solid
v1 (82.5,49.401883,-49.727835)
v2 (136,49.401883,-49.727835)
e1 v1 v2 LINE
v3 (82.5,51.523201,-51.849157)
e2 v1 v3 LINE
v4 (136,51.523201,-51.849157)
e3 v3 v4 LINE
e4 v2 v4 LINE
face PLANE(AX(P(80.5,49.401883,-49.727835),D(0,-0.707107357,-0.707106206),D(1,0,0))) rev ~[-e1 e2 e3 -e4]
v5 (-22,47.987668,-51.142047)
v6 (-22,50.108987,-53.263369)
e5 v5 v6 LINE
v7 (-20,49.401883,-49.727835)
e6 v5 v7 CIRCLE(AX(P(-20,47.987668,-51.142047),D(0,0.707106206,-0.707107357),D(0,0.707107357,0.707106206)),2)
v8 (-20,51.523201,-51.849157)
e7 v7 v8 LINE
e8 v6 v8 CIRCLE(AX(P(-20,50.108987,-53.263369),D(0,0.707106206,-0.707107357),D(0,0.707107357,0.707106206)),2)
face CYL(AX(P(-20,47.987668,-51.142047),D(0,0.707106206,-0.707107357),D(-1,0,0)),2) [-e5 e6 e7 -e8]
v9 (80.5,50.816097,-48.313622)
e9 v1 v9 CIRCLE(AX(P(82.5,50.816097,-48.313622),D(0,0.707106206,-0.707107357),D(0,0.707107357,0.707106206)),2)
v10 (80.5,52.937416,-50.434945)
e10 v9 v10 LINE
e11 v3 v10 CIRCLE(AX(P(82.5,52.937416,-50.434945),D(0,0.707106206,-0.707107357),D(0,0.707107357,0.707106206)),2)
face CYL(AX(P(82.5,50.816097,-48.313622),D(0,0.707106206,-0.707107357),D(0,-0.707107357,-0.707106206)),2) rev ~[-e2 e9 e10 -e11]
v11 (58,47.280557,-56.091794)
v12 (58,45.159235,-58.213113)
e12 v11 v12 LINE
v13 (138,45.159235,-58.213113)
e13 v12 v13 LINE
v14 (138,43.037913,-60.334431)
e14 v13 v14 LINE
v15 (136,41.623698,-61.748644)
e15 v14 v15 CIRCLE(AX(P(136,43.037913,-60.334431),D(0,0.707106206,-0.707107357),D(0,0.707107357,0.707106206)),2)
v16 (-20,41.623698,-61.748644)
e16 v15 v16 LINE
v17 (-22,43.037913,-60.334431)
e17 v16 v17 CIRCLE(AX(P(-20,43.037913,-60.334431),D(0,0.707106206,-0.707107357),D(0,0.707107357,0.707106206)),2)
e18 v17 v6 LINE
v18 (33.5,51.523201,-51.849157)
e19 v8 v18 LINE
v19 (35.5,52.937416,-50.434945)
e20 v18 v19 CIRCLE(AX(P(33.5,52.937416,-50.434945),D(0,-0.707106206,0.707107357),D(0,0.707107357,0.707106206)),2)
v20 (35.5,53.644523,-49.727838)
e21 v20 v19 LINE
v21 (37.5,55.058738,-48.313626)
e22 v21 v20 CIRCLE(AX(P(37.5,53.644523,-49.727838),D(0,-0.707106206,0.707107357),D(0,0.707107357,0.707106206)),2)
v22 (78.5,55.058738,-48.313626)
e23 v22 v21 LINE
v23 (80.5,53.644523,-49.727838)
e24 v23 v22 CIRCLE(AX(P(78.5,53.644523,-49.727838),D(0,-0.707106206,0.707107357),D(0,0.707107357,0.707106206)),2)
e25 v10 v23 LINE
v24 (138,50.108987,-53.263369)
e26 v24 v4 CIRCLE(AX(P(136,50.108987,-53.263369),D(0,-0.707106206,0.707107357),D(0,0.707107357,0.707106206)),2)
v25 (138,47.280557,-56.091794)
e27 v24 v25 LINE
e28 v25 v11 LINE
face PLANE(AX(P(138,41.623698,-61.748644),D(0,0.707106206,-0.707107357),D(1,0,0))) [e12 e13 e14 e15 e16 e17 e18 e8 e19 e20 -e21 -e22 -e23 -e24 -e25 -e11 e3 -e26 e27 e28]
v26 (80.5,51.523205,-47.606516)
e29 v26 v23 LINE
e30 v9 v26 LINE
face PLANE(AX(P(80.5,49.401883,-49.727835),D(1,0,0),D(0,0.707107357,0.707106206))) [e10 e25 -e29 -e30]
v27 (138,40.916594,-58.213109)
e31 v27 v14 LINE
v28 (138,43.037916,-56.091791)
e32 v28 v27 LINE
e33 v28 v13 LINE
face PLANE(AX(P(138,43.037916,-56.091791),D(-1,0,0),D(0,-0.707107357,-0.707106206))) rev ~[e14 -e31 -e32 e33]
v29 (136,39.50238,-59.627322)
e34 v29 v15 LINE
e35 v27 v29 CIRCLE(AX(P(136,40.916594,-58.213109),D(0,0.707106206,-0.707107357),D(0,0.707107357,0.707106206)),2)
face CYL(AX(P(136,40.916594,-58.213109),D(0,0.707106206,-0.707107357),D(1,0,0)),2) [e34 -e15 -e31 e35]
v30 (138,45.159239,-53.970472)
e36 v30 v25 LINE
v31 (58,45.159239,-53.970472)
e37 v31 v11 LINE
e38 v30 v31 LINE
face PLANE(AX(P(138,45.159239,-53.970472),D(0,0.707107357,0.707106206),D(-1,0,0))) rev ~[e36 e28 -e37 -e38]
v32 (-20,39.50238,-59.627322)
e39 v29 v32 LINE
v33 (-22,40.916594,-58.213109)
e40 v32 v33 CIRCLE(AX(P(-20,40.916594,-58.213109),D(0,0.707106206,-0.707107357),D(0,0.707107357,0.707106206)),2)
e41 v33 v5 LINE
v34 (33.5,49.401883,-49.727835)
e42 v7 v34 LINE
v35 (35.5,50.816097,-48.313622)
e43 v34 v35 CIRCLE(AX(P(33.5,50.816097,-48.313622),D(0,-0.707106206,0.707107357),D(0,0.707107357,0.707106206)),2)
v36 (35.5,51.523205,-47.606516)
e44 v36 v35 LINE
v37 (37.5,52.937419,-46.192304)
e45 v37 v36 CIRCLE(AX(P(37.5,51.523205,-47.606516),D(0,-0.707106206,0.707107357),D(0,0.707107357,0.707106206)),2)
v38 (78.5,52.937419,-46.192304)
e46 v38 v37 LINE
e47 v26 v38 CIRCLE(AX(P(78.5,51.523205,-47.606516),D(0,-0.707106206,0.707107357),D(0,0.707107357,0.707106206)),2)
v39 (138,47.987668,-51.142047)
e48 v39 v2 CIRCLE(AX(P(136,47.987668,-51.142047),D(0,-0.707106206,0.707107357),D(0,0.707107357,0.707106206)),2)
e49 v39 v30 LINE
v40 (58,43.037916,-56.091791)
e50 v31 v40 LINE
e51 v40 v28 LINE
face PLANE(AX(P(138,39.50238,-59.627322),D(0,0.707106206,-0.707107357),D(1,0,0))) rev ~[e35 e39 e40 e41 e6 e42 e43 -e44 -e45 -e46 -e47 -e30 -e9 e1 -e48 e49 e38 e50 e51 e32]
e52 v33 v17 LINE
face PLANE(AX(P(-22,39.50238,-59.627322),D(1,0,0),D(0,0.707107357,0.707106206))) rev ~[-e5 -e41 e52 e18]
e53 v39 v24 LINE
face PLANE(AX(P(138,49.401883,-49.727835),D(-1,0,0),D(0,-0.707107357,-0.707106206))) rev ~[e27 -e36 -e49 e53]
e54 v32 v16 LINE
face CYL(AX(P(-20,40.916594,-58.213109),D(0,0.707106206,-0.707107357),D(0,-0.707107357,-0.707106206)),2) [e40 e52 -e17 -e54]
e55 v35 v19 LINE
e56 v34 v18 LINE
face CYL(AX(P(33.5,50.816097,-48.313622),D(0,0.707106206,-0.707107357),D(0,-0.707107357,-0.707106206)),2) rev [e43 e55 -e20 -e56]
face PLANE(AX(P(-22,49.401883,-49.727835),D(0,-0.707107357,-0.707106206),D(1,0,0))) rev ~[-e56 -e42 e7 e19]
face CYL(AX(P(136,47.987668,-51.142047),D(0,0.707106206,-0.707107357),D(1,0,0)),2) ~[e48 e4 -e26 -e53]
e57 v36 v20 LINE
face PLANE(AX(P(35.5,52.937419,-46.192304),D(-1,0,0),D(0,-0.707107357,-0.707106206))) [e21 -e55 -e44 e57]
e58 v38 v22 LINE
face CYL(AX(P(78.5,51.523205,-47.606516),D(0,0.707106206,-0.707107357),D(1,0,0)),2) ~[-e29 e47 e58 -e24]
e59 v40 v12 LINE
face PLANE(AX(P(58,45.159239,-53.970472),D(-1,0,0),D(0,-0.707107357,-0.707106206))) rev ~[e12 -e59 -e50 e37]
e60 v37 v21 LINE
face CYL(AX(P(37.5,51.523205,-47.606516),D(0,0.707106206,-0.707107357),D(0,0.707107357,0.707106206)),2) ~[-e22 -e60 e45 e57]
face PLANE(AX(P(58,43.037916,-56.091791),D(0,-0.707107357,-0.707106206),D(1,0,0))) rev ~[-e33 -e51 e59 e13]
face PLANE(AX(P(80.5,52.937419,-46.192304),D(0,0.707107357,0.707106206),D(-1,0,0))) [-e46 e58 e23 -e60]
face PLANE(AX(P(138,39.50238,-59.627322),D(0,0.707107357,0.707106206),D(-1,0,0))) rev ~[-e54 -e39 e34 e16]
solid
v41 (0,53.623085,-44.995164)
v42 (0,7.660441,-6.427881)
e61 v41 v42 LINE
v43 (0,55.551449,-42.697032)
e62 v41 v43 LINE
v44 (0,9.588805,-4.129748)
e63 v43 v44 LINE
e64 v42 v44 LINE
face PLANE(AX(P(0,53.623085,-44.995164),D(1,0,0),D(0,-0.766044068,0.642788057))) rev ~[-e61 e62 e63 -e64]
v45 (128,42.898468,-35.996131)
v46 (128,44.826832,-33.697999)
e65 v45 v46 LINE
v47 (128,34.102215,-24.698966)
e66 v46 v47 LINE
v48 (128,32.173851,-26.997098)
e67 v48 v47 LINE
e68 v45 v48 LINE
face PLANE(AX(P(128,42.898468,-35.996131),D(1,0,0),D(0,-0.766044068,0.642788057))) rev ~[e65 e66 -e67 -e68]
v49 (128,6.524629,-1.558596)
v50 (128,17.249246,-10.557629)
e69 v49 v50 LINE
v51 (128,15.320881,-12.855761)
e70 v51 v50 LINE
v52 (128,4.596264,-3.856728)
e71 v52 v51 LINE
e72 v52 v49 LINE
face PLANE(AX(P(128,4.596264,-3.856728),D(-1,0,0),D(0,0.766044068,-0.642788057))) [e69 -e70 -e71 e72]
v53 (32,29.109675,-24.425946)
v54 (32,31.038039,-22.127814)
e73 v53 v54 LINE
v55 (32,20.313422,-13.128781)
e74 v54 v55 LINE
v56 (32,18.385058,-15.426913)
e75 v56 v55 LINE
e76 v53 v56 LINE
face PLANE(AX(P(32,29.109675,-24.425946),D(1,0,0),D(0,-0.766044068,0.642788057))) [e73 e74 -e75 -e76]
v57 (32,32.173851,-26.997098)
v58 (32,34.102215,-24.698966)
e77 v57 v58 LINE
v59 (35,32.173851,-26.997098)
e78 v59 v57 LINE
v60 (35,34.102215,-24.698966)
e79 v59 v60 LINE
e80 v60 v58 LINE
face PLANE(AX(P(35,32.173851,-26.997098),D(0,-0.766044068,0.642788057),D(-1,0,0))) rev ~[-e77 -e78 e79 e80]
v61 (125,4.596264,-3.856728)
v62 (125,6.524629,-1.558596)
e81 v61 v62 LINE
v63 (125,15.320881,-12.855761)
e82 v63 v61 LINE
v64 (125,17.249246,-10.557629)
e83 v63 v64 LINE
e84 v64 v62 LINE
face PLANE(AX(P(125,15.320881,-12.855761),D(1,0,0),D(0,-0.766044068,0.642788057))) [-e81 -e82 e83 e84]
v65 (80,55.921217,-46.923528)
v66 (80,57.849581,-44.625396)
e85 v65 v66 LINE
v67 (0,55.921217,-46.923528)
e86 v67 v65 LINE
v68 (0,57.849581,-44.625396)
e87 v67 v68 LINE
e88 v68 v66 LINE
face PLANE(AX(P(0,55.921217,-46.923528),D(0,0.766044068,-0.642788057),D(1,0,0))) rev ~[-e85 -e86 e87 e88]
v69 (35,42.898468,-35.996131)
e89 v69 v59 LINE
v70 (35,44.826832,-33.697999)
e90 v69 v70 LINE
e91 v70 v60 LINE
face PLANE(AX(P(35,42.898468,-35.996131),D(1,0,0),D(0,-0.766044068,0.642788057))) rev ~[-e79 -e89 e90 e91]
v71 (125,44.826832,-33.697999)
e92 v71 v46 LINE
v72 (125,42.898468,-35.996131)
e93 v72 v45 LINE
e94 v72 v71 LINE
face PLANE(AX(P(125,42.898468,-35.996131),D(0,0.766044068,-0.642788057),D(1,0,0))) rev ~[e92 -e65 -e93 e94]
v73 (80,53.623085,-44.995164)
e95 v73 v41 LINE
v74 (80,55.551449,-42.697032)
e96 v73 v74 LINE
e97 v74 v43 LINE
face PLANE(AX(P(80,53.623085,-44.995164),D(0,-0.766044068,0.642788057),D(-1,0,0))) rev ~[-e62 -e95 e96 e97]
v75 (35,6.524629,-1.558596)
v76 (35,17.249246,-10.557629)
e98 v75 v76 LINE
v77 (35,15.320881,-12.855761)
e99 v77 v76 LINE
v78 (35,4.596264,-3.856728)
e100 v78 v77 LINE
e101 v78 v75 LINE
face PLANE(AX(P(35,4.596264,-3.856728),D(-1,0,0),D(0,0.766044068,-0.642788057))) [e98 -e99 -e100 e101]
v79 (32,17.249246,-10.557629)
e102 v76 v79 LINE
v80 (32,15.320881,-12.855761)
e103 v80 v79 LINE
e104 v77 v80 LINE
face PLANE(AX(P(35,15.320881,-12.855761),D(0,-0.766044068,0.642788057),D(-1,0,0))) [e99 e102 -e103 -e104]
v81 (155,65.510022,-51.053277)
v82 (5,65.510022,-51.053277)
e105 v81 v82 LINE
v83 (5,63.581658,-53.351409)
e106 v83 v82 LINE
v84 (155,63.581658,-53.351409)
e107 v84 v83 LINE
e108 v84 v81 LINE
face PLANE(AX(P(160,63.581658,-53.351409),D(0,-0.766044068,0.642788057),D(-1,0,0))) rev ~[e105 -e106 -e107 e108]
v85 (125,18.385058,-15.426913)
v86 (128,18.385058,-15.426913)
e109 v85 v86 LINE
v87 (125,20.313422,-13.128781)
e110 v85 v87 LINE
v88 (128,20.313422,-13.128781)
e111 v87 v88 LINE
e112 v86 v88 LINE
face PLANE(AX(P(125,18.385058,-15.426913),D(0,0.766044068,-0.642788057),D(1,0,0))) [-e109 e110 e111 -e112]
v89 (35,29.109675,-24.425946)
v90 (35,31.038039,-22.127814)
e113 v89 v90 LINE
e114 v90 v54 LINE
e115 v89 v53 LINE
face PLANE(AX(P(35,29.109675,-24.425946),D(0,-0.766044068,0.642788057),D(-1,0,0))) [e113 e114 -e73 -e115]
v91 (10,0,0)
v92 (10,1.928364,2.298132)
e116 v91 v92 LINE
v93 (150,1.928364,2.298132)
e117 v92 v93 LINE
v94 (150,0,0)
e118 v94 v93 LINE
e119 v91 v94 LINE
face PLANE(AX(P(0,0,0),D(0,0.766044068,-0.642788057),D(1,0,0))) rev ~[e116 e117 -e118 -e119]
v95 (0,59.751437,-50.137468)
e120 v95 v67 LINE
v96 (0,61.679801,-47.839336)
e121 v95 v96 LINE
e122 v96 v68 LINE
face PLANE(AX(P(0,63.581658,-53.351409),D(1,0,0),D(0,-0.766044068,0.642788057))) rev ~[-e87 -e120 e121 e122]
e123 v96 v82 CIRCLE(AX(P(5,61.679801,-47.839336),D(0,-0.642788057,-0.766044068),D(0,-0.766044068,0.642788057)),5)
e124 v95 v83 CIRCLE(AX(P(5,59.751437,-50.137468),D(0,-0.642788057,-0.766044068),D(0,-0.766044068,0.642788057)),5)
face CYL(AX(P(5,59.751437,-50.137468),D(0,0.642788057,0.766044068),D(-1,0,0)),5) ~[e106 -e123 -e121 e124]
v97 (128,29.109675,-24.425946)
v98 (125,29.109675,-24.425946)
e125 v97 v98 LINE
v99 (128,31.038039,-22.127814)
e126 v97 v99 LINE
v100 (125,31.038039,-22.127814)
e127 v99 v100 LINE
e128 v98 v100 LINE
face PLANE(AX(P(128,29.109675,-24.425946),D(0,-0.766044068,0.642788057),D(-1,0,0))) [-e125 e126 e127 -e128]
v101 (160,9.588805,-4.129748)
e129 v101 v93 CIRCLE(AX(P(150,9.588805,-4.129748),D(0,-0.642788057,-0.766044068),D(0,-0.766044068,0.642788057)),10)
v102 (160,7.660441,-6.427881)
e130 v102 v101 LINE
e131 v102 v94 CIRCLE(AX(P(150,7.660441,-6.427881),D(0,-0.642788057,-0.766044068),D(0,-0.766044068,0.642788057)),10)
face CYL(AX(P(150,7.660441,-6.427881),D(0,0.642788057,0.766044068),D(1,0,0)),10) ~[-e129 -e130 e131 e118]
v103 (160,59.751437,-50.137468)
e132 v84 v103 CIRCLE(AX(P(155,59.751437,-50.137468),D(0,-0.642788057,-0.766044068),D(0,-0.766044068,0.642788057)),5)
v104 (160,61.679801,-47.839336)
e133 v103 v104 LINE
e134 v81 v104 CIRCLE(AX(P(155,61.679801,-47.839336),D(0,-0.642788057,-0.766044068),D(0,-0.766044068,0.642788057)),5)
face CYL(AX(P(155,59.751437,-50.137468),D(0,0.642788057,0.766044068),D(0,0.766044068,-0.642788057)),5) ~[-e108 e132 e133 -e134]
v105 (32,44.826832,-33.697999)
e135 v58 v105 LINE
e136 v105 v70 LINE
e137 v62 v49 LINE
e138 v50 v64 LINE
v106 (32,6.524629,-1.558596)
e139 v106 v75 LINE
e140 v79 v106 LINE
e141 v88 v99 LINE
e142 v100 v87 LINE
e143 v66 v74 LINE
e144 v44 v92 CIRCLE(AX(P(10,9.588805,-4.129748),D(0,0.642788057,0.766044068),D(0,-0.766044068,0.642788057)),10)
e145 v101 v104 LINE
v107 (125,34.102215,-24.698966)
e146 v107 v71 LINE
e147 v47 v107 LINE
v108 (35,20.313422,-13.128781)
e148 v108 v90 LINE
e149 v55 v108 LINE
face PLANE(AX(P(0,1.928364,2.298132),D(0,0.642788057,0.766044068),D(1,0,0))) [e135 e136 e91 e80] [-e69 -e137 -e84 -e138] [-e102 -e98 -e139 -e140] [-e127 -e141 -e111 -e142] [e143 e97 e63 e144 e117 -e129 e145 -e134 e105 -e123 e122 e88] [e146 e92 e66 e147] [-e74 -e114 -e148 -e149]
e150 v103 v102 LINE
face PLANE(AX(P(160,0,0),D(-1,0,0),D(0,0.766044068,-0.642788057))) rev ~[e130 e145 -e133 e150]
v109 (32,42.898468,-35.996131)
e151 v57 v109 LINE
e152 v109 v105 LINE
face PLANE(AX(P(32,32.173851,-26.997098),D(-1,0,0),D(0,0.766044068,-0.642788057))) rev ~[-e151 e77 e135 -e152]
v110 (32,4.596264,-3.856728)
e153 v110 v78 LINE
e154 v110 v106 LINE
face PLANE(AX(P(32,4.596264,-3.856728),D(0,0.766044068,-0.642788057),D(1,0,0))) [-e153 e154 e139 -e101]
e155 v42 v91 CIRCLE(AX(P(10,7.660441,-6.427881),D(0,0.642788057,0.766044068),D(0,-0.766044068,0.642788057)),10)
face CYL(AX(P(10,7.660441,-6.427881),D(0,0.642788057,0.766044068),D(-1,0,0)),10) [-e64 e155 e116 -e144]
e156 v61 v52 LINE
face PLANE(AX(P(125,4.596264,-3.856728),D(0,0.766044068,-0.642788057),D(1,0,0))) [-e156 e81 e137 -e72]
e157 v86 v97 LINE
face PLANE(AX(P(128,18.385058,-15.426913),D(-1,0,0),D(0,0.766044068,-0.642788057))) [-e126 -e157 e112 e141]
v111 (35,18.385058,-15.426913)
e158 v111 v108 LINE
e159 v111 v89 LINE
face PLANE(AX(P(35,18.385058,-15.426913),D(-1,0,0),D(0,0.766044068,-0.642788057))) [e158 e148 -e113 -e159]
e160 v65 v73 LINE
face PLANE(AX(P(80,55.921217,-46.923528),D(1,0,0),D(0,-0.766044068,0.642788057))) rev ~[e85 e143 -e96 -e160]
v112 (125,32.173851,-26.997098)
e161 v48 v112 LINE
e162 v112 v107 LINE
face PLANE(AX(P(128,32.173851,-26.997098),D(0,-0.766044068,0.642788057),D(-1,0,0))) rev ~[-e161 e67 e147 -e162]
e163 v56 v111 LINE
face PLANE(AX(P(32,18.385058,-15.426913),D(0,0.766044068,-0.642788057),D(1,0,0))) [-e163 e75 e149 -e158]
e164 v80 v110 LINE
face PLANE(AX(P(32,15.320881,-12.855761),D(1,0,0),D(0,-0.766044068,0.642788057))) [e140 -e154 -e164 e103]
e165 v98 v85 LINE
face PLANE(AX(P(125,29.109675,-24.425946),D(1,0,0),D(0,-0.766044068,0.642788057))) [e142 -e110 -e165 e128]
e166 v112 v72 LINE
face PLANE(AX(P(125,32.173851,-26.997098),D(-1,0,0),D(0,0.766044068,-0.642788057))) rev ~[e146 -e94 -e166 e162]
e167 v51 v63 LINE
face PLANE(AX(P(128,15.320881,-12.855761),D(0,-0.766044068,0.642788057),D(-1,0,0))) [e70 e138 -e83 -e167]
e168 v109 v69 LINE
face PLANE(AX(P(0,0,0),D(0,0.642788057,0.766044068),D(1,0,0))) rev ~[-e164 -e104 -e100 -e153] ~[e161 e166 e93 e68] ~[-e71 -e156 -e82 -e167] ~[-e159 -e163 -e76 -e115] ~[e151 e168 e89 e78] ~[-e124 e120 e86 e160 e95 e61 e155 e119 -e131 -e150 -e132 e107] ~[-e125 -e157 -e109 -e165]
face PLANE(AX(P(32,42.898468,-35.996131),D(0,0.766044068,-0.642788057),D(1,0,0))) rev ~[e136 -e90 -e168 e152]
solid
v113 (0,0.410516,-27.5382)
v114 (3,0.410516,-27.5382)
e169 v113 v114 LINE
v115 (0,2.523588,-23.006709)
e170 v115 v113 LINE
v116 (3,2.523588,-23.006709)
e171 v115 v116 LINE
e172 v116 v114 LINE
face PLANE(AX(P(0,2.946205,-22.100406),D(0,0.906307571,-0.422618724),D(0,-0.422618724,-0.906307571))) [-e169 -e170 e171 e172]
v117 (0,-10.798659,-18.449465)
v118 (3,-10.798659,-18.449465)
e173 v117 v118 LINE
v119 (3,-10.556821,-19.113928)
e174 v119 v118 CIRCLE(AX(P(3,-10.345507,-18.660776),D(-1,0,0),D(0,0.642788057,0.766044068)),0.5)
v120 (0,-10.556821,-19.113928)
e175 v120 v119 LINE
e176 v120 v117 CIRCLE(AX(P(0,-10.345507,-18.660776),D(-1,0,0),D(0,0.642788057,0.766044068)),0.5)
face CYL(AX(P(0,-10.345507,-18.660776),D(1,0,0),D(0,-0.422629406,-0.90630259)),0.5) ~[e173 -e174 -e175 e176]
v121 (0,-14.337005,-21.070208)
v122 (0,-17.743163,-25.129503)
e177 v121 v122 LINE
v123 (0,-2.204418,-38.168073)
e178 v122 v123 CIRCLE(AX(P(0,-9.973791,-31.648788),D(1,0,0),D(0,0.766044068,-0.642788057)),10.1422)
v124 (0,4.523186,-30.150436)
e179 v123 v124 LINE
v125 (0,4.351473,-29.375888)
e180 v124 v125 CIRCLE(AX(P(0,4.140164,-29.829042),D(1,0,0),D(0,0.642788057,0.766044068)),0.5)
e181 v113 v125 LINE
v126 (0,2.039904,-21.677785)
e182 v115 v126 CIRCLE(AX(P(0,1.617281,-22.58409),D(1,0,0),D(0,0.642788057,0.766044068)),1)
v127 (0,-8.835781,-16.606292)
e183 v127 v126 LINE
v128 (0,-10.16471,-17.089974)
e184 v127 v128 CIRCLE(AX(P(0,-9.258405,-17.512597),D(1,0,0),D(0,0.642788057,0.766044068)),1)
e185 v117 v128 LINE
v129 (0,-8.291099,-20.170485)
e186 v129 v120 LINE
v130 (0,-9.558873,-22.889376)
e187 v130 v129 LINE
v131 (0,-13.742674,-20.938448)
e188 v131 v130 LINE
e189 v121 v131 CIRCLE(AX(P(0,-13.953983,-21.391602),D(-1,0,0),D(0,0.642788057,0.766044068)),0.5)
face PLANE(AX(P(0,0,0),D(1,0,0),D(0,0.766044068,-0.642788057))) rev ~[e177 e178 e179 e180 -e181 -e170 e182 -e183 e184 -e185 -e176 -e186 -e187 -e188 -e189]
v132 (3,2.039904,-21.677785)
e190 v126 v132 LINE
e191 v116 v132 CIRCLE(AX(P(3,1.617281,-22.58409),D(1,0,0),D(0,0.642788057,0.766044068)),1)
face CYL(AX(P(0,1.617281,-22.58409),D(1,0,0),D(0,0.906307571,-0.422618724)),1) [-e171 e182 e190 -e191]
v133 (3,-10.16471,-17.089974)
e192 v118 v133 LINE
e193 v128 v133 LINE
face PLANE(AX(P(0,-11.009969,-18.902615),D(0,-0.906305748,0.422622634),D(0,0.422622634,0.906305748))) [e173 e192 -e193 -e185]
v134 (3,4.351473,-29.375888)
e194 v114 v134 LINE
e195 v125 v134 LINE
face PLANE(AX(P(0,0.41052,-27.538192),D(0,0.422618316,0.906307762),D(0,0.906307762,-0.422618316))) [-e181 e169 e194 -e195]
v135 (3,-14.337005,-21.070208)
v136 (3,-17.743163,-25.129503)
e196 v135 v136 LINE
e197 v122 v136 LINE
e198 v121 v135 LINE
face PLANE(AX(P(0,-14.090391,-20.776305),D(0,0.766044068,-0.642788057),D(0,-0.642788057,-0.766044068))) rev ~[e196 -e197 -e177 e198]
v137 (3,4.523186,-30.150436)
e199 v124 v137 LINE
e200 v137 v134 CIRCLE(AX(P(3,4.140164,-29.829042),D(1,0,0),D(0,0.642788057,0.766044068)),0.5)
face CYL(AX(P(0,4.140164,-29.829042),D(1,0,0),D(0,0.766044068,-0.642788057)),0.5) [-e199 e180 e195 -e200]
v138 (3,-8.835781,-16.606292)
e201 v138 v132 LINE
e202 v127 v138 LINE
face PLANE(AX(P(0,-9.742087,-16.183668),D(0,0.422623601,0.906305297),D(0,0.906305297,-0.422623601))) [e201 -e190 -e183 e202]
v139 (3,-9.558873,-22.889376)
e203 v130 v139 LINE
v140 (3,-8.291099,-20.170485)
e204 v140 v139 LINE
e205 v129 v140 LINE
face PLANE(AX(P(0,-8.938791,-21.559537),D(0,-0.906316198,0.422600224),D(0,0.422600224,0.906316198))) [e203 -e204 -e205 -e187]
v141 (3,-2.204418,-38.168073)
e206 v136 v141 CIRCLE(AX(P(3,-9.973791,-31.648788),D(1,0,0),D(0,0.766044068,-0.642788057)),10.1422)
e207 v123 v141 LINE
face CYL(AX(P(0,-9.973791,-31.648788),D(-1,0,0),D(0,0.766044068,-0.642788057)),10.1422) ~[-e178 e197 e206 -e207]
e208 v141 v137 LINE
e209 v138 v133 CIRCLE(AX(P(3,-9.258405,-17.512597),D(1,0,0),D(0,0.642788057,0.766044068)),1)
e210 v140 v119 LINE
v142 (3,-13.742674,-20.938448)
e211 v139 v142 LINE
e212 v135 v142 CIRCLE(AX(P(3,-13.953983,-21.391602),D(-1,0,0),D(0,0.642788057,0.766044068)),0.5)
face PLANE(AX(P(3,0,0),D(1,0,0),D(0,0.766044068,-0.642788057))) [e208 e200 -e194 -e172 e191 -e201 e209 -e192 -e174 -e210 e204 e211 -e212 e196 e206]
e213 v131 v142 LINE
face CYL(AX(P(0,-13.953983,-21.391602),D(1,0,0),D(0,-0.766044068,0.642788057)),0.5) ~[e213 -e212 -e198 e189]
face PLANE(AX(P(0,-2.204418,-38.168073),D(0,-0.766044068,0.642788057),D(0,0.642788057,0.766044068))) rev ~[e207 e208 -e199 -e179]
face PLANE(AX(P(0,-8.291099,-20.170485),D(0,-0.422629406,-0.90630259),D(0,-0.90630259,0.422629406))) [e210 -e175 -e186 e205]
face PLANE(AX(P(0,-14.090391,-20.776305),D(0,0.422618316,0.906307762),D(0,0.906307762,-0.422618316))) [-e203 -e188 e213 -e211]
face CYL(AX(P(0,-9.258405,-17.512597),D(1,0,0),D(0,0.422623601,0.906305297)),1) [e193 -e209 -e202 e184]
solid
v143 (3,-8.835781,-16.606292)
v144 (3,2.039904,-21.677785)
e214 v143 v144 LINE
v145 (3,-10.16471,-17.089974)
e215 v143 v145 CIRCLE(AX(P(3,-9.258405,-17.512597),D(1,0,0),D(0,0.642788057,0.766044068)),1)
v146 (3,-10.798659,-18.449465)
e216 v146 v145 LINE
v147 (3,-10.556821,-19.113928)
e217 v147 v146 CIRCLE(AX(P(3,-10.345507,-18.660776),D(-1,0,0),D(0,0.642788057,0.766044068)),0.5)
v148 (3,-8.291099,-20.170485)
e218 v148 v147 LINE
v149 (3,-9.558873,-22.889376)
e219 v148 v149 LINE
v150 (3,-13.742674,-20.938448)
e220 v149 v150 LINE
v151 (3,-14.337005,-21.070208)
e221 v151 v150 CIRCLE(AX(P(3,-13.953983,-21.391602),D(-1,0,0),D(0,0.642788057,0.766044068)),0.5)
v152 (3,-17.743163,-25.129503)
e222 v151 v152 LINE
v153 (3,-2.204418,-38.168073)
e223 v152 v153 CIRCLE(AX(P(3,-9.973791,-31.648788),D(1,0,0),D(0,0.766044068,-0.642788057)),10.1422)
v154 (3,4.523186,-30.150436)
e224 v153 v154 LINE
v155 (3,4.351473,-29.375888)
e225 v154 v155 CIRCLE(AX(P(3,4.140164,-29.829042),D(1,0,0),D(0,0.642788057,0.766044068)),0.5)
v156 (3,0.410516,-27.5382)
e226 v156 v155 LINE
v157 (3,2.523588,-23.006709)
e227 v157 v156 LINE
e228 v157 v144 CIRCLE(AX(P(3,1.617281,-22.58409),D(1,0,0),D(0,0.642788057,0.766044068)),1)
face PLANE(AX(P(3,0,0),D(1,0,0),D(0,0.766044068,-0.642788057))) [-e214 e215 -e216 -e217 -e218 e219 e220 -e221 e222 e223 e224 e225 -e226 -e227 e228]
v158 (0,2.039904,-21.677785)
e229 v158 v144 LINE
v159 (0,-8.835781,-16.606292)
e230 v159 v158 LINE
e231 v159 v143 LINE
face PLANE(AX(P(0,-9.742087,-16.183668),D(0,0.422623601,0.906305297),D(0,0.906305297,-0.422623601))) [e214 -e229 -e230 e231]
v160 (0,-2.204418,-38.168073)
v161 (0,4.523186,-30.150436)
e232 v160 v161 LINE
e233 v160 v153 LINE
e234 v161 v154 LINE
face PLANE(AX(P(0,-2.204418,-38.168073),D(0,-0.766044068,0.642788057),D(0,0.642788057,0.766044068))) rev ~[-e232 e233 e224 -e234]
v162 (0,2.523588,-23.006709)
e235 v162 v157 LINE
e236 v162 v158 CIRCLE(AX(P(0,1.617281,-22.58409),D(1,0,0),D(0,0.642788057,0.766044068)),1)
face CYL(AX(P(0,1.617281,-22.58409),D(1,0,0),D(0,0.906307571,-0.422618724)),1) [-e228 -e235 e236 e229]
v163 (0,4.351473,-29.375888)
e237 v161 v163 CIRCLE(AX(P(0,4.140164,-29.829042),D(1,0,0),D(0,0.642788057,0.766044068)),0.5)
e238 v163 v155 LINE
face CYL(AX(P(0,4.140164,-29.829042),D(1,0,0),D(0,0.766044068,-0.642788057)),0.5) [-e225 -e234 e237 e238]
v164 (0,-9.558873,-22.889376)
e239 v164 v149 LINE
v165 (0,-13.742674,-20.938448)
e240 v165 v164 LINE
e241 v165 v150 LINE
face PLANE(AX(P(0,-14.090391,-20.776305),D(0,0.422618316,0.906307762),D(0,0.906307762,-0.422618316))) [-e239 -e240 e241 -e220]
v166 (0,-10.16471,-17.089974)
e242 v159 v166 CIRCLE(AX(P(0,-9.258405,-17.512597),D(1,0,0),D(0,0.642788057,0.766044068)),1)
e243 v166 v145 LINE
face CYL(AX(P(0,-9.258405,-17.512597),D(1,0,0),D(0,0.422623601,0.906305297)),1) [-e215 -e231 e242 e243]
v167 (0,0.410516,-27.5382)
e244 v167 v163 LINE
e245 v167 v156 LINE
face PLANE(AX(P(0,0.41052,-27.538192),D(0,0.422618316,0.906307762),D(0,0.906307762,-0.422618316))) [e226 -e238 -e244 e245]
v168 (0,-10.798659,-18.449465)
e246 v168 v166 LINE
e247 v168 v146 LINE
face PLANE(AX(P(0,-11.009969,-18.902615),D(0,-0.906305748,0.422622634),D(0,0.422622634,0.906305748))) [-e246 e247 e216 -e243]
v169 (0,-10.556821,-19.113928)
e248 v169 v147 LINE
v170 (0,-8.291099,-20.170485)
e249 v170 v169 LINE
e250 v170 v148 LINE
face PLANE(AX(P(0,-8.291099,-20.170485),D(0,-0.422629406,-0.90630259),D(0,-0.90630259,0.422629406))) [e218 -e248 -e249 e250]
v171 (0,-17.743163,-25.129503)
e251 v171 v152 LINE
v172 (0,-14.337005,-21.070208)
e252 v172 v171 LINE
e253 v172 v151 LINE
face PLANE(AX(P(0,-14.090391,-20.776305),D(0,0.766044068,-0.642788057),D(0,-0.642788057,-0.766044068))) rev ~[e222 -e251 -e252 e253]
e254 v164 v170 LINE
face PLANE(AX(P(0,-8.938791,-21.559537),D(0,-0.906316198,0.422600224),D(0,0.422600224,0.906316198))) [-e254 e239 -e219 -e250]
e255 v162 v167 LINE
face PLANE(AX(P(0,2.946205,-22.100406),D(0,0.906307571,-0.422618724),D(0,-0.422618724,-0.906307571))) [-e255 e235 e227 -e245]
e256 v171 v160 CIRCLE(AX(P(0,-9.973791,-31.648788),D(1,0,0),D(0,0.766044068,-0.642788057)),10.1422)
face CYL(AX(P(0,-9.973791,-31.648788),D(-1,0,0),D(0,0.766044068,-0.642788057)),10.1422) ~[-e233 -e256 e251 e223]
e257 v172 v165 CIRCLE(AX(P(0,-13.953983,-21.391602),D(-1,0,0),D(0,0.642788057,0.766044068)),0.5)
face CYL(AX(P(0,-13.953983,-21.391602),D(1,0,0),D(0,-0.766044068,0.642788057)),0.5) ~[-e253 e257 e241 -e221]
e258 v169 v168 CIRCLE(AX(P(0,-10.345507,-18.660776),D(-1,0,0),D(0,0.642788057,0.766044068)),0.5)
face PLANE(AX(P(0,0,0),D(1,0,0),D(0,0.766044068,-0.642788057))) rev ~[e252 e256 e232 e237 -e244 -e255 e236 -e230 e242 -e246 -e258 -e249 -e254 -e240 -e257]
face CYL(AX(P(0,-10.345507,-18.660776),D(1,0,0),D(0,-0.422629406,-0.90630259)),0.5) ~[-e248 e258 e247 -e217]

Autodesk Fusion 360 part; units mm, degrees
sketch "スケッチ1" plane through (0, 0, 0) normal (0, 0, 1) x (1, 0, 0) in component "base1"
  line L0 (0, 0) -> (160, 0)
  line L1 (160, 0) -> (160, 70)
  line L2 (160, 70) -> (0, 70) construction
  line L3 (0, 70) -> (0, 0)
  line L4 (0, 70) -> (160, 70) construction
  line L5 (160, 70) -> (160, 83)
  line L6 (160, 83) -> (0, 83)
  line L7 (0, 83) -> (0, 70)
  line L8 (80, 70) -> (0, 70)
  line L9 (0, 70) -> (0, 73)
  line L10 (0, 73) -> (80, 73)
  line L11 (80, 73) -> (80, 70)
  line L12 (32, 24) -> (35, 24)
  line L13 (35, 24) -> (35, 38)
  line L14 (35, 38) -> (32, 38)
  line L15 (32, 38) -> (32, 24)
  line L16 (32, 6) -> (35, 6)
  line L17 (35, 6) -> (35, 20)
  line L18 (35, 20) -> (32, 20)
  line L19 (32, 20) -> (32, 6)
  line L20 (125, 6) -> (128, 6)
  line L21 (128, 6) -> (128, 20)
  line L22 (128, 20) -> (125, 20)
  line L23 (125, 20) -> (125, 6)
  line L24 (125, 24) -> (128, 24)
  line L25 (128, 24) -> (128, 38)
  line L26 (128, 38) -> (125, 38)
  line L27 (125, 38) -> (125, 24)
  line L28 (0, 0) -> (32, 6) construction
  line L29 (128, 6) -> (160, 0) construction
  line L30 (32, 56) -> (35, 56)
  line L31 (35, 56) -> (35, 42)
  line L32 (35, 42) -> (32, 42)
  line L33 (32, 42) -> (32, 56)
  line L34 (125, 56) -> (128, 56)
  line L35 (128, 56) -> (128, 42)
  line L36 (128, 42) -> (125, 42)
  line L37 (125, 42) -> (125, 56)
  dimension "d1" = 160
  dimension "d2" = 70
  dimension "d9" = 3
  dimension "d25" = 10
  dimension "d39" = 14
  dimension "d40" = 32
  dimension "d41" = 50
  dimension "d42" = 90
  dimension "d43" = 3
  dimension "d74" = 14
extrude "押し出し1" add sketch "スケッチ1" along normal blind 3 contours L0 L1 L3 L5 L6 L7 L8 L10 L11 makes body 1 in component "base1"
sketch "スケッチ1 (2)" plane through (0, 0, 0) normal (0, 1, 0) x (1, 0, 0) in component "back1"
  line L0 (0, 0) -> (-160, 0)
  line L1 (-160, 0) -> (-160, -14)
  line L2 (-160, -14) -> (0, -14)
  line L3 (0, -14) -> (0, 0)
  line L4 (-80, -14) -> (-80, 0) construction
  line L5 (0, -8) -> (-80, -8)
  line L6 (-80, -8) -> (-80, -5)
  line L7 (-80, -5) -> (0, -5)
  line L8 (0, -5) -> (0, -8)
  line L9 (-102.5, -14) -> (-57.5, -14)
  line L10 (-57.5, -14) -> (-57.5, -19)
  line L11 (-57.5, -19) -> (-102.5, -19)
  line L12 (-102.5, -19) -> (-102.5, -14)
  line L13 (-102.5, -19) -> (-160, -14) construction
  line L14 (-57.5, -19) -> (0, -14) construction
  dimension "d10" = 160
  dimension "d11" = 3
  dimension "d18" = 5
  dimension "d20" = 6
  dimension "d26" = 45
  dimension "d28" = 11
extrude "押し出し1'" add sketch "スケッチ1 (2)" along normal blind 3 separate body contours L0 L1 L2 L3 L5 L6 L7 L9 | L2 L9 L10 L11 L12 makes body 2 in component "back1"
fillet "フィレット1" radius 2 4 edges at (-160, 1.5, 0) (-160, 1.5, 14) (0, 1.5, 14) (0, 1.5, 0) on bodies 2 in component "back1"
fillet "フィレット1" radius 2 2 edges at (-102.5, 1.5, 14) (-57.5, 1.5, 14) on bodies 2 in component "back1"
fillet "フィレット1" radius 2 2 edges at (-102.5, 1.5, 19) (-57.5, 1.5, 19) on bodies 2 in component "back1"
fillet "フィレット1'" radius 10 2 edges at (0, 0, 1.5) (160, 0, 1.5) on bodies 1 in component "base1"
fillet "フィレット1'" radius 5 2 edges at (0, 83, 1.5) (160, 83, 1.5) on bodies 1 in component "base1"
sketch "スケッチ1 (3)" plane through (0, 0, 0) normal (1, 0, 0) x (0, 1, 0) in component "leg1"
  line L0 (12.7409, -43.8634) -> (93.405, 23.8218) construction
  line L1 (12.7409, -43.8634) -> (12.7409, -59.189) construction
  circle A0 centre (12.7031, -30.6554) radius 10.1422
  line L2 (2.5609, -30.6554) -> (22.8453, -30.6554)
  line L3 (22.8453, -30.6554) -> (22.8453, -19.5375)
  line L4 (2.5609, -24.9727) -> (2.5609, -30.6554)
  line L5 (2.5609, -24.9727) -> (22.8453, -19.5375)
  line L6 (4.4927, -24.4551) -> (2.9398, -18.6595)
  line L7 (2.9398, -18.6595) -> (16.4628, -15.0361)
  line L8 (16.4628, -15.0361) -> (18.0157, -20.8316)
  line L9 (7.3905, -23.6786) -> (6.614, -20.7809)
  line L10 (6.614, -20.7809) -> (3.7163, -21.5573)
  dimension "d44" = 130
  dimension "d46" = 3
  dimension "d47" = 3
  dimension "d48" = 14
  dimension "d49" = 15
  dimension "d59" = 3
  dimension "d61" = 5
  dimension "d62" = 2
extrude "押し出し1''" add sketch "スケッチ1 (3)" along normal blind 3 separate body contours A0 L2 | A0 L4 L5 | A0 L2 L5 | A0 L3 L5 | A0 L5 L9 | A0 L5 L6 L7 L8 L9 L10 picked at (7.5453, -22.4968) makes body 3 in component "leg1"
fillet "フィレット1''" radius 1 2 edges at (1.5, 2.9398, -18.6595) (1.5, 16.4628, -15.0361) on bodies 3 in component "leg1"
fillet "フィレット1''" radius 0.5 2 edges at (1.5, 3.7163, -21.5573) (1.5, 2.5609, -24.9727) on bodies 3 in component "leg1"
fillet "フィレット1''" radius 0.5 1 edges at (1.5, 22.8453, -19.5375) on bodies 3 in component "leg1"
component "stand1" placed x (1, 0, 0) y (0, 0.766044, -0.642788) z (0, 0.642788, 0.766044) at (0, 0, 0)
component "base1" placed x (1, 0, 0) y (0, 1, 0) z (0, 0, 1) at (0, 0, 0) in component "stand1"
component "back1" placed x (1, 0, 0) y (0, 0.996195, -0.087156) z (0, 0.087156, 0.996195) at (138, 68.5883, -20.2855) in component "stand1"
component "leg1" placed x (1, 0, 0) y (0, 1, 0) z (0, 0, 1) at (0, 0, 0) in component "stand1"
component "leg1" placed x (1, 0, 0) y (0, 1, 0) z (0, 0, 1) at (0, 0, 0) in component "stand1"
equation "d1 = width1"
equation "d2 = depth1"
equation "width1 = 160 mm"
equation "depth1 = 70 mm"
equation "thickness1 = 3 mm"
equation "d7 = thickness1"
equation "d9 = thickness1"
equation "d10 = width1"
equation "d11 = thickness1"
equation "d12 = thickness1"
equation "d43 = thickness1"
equation "d46 = thickness1"
equation "d48 = d39"
equation "d51 = thickness1"
equation "d61 = d59 + 2 mm"
